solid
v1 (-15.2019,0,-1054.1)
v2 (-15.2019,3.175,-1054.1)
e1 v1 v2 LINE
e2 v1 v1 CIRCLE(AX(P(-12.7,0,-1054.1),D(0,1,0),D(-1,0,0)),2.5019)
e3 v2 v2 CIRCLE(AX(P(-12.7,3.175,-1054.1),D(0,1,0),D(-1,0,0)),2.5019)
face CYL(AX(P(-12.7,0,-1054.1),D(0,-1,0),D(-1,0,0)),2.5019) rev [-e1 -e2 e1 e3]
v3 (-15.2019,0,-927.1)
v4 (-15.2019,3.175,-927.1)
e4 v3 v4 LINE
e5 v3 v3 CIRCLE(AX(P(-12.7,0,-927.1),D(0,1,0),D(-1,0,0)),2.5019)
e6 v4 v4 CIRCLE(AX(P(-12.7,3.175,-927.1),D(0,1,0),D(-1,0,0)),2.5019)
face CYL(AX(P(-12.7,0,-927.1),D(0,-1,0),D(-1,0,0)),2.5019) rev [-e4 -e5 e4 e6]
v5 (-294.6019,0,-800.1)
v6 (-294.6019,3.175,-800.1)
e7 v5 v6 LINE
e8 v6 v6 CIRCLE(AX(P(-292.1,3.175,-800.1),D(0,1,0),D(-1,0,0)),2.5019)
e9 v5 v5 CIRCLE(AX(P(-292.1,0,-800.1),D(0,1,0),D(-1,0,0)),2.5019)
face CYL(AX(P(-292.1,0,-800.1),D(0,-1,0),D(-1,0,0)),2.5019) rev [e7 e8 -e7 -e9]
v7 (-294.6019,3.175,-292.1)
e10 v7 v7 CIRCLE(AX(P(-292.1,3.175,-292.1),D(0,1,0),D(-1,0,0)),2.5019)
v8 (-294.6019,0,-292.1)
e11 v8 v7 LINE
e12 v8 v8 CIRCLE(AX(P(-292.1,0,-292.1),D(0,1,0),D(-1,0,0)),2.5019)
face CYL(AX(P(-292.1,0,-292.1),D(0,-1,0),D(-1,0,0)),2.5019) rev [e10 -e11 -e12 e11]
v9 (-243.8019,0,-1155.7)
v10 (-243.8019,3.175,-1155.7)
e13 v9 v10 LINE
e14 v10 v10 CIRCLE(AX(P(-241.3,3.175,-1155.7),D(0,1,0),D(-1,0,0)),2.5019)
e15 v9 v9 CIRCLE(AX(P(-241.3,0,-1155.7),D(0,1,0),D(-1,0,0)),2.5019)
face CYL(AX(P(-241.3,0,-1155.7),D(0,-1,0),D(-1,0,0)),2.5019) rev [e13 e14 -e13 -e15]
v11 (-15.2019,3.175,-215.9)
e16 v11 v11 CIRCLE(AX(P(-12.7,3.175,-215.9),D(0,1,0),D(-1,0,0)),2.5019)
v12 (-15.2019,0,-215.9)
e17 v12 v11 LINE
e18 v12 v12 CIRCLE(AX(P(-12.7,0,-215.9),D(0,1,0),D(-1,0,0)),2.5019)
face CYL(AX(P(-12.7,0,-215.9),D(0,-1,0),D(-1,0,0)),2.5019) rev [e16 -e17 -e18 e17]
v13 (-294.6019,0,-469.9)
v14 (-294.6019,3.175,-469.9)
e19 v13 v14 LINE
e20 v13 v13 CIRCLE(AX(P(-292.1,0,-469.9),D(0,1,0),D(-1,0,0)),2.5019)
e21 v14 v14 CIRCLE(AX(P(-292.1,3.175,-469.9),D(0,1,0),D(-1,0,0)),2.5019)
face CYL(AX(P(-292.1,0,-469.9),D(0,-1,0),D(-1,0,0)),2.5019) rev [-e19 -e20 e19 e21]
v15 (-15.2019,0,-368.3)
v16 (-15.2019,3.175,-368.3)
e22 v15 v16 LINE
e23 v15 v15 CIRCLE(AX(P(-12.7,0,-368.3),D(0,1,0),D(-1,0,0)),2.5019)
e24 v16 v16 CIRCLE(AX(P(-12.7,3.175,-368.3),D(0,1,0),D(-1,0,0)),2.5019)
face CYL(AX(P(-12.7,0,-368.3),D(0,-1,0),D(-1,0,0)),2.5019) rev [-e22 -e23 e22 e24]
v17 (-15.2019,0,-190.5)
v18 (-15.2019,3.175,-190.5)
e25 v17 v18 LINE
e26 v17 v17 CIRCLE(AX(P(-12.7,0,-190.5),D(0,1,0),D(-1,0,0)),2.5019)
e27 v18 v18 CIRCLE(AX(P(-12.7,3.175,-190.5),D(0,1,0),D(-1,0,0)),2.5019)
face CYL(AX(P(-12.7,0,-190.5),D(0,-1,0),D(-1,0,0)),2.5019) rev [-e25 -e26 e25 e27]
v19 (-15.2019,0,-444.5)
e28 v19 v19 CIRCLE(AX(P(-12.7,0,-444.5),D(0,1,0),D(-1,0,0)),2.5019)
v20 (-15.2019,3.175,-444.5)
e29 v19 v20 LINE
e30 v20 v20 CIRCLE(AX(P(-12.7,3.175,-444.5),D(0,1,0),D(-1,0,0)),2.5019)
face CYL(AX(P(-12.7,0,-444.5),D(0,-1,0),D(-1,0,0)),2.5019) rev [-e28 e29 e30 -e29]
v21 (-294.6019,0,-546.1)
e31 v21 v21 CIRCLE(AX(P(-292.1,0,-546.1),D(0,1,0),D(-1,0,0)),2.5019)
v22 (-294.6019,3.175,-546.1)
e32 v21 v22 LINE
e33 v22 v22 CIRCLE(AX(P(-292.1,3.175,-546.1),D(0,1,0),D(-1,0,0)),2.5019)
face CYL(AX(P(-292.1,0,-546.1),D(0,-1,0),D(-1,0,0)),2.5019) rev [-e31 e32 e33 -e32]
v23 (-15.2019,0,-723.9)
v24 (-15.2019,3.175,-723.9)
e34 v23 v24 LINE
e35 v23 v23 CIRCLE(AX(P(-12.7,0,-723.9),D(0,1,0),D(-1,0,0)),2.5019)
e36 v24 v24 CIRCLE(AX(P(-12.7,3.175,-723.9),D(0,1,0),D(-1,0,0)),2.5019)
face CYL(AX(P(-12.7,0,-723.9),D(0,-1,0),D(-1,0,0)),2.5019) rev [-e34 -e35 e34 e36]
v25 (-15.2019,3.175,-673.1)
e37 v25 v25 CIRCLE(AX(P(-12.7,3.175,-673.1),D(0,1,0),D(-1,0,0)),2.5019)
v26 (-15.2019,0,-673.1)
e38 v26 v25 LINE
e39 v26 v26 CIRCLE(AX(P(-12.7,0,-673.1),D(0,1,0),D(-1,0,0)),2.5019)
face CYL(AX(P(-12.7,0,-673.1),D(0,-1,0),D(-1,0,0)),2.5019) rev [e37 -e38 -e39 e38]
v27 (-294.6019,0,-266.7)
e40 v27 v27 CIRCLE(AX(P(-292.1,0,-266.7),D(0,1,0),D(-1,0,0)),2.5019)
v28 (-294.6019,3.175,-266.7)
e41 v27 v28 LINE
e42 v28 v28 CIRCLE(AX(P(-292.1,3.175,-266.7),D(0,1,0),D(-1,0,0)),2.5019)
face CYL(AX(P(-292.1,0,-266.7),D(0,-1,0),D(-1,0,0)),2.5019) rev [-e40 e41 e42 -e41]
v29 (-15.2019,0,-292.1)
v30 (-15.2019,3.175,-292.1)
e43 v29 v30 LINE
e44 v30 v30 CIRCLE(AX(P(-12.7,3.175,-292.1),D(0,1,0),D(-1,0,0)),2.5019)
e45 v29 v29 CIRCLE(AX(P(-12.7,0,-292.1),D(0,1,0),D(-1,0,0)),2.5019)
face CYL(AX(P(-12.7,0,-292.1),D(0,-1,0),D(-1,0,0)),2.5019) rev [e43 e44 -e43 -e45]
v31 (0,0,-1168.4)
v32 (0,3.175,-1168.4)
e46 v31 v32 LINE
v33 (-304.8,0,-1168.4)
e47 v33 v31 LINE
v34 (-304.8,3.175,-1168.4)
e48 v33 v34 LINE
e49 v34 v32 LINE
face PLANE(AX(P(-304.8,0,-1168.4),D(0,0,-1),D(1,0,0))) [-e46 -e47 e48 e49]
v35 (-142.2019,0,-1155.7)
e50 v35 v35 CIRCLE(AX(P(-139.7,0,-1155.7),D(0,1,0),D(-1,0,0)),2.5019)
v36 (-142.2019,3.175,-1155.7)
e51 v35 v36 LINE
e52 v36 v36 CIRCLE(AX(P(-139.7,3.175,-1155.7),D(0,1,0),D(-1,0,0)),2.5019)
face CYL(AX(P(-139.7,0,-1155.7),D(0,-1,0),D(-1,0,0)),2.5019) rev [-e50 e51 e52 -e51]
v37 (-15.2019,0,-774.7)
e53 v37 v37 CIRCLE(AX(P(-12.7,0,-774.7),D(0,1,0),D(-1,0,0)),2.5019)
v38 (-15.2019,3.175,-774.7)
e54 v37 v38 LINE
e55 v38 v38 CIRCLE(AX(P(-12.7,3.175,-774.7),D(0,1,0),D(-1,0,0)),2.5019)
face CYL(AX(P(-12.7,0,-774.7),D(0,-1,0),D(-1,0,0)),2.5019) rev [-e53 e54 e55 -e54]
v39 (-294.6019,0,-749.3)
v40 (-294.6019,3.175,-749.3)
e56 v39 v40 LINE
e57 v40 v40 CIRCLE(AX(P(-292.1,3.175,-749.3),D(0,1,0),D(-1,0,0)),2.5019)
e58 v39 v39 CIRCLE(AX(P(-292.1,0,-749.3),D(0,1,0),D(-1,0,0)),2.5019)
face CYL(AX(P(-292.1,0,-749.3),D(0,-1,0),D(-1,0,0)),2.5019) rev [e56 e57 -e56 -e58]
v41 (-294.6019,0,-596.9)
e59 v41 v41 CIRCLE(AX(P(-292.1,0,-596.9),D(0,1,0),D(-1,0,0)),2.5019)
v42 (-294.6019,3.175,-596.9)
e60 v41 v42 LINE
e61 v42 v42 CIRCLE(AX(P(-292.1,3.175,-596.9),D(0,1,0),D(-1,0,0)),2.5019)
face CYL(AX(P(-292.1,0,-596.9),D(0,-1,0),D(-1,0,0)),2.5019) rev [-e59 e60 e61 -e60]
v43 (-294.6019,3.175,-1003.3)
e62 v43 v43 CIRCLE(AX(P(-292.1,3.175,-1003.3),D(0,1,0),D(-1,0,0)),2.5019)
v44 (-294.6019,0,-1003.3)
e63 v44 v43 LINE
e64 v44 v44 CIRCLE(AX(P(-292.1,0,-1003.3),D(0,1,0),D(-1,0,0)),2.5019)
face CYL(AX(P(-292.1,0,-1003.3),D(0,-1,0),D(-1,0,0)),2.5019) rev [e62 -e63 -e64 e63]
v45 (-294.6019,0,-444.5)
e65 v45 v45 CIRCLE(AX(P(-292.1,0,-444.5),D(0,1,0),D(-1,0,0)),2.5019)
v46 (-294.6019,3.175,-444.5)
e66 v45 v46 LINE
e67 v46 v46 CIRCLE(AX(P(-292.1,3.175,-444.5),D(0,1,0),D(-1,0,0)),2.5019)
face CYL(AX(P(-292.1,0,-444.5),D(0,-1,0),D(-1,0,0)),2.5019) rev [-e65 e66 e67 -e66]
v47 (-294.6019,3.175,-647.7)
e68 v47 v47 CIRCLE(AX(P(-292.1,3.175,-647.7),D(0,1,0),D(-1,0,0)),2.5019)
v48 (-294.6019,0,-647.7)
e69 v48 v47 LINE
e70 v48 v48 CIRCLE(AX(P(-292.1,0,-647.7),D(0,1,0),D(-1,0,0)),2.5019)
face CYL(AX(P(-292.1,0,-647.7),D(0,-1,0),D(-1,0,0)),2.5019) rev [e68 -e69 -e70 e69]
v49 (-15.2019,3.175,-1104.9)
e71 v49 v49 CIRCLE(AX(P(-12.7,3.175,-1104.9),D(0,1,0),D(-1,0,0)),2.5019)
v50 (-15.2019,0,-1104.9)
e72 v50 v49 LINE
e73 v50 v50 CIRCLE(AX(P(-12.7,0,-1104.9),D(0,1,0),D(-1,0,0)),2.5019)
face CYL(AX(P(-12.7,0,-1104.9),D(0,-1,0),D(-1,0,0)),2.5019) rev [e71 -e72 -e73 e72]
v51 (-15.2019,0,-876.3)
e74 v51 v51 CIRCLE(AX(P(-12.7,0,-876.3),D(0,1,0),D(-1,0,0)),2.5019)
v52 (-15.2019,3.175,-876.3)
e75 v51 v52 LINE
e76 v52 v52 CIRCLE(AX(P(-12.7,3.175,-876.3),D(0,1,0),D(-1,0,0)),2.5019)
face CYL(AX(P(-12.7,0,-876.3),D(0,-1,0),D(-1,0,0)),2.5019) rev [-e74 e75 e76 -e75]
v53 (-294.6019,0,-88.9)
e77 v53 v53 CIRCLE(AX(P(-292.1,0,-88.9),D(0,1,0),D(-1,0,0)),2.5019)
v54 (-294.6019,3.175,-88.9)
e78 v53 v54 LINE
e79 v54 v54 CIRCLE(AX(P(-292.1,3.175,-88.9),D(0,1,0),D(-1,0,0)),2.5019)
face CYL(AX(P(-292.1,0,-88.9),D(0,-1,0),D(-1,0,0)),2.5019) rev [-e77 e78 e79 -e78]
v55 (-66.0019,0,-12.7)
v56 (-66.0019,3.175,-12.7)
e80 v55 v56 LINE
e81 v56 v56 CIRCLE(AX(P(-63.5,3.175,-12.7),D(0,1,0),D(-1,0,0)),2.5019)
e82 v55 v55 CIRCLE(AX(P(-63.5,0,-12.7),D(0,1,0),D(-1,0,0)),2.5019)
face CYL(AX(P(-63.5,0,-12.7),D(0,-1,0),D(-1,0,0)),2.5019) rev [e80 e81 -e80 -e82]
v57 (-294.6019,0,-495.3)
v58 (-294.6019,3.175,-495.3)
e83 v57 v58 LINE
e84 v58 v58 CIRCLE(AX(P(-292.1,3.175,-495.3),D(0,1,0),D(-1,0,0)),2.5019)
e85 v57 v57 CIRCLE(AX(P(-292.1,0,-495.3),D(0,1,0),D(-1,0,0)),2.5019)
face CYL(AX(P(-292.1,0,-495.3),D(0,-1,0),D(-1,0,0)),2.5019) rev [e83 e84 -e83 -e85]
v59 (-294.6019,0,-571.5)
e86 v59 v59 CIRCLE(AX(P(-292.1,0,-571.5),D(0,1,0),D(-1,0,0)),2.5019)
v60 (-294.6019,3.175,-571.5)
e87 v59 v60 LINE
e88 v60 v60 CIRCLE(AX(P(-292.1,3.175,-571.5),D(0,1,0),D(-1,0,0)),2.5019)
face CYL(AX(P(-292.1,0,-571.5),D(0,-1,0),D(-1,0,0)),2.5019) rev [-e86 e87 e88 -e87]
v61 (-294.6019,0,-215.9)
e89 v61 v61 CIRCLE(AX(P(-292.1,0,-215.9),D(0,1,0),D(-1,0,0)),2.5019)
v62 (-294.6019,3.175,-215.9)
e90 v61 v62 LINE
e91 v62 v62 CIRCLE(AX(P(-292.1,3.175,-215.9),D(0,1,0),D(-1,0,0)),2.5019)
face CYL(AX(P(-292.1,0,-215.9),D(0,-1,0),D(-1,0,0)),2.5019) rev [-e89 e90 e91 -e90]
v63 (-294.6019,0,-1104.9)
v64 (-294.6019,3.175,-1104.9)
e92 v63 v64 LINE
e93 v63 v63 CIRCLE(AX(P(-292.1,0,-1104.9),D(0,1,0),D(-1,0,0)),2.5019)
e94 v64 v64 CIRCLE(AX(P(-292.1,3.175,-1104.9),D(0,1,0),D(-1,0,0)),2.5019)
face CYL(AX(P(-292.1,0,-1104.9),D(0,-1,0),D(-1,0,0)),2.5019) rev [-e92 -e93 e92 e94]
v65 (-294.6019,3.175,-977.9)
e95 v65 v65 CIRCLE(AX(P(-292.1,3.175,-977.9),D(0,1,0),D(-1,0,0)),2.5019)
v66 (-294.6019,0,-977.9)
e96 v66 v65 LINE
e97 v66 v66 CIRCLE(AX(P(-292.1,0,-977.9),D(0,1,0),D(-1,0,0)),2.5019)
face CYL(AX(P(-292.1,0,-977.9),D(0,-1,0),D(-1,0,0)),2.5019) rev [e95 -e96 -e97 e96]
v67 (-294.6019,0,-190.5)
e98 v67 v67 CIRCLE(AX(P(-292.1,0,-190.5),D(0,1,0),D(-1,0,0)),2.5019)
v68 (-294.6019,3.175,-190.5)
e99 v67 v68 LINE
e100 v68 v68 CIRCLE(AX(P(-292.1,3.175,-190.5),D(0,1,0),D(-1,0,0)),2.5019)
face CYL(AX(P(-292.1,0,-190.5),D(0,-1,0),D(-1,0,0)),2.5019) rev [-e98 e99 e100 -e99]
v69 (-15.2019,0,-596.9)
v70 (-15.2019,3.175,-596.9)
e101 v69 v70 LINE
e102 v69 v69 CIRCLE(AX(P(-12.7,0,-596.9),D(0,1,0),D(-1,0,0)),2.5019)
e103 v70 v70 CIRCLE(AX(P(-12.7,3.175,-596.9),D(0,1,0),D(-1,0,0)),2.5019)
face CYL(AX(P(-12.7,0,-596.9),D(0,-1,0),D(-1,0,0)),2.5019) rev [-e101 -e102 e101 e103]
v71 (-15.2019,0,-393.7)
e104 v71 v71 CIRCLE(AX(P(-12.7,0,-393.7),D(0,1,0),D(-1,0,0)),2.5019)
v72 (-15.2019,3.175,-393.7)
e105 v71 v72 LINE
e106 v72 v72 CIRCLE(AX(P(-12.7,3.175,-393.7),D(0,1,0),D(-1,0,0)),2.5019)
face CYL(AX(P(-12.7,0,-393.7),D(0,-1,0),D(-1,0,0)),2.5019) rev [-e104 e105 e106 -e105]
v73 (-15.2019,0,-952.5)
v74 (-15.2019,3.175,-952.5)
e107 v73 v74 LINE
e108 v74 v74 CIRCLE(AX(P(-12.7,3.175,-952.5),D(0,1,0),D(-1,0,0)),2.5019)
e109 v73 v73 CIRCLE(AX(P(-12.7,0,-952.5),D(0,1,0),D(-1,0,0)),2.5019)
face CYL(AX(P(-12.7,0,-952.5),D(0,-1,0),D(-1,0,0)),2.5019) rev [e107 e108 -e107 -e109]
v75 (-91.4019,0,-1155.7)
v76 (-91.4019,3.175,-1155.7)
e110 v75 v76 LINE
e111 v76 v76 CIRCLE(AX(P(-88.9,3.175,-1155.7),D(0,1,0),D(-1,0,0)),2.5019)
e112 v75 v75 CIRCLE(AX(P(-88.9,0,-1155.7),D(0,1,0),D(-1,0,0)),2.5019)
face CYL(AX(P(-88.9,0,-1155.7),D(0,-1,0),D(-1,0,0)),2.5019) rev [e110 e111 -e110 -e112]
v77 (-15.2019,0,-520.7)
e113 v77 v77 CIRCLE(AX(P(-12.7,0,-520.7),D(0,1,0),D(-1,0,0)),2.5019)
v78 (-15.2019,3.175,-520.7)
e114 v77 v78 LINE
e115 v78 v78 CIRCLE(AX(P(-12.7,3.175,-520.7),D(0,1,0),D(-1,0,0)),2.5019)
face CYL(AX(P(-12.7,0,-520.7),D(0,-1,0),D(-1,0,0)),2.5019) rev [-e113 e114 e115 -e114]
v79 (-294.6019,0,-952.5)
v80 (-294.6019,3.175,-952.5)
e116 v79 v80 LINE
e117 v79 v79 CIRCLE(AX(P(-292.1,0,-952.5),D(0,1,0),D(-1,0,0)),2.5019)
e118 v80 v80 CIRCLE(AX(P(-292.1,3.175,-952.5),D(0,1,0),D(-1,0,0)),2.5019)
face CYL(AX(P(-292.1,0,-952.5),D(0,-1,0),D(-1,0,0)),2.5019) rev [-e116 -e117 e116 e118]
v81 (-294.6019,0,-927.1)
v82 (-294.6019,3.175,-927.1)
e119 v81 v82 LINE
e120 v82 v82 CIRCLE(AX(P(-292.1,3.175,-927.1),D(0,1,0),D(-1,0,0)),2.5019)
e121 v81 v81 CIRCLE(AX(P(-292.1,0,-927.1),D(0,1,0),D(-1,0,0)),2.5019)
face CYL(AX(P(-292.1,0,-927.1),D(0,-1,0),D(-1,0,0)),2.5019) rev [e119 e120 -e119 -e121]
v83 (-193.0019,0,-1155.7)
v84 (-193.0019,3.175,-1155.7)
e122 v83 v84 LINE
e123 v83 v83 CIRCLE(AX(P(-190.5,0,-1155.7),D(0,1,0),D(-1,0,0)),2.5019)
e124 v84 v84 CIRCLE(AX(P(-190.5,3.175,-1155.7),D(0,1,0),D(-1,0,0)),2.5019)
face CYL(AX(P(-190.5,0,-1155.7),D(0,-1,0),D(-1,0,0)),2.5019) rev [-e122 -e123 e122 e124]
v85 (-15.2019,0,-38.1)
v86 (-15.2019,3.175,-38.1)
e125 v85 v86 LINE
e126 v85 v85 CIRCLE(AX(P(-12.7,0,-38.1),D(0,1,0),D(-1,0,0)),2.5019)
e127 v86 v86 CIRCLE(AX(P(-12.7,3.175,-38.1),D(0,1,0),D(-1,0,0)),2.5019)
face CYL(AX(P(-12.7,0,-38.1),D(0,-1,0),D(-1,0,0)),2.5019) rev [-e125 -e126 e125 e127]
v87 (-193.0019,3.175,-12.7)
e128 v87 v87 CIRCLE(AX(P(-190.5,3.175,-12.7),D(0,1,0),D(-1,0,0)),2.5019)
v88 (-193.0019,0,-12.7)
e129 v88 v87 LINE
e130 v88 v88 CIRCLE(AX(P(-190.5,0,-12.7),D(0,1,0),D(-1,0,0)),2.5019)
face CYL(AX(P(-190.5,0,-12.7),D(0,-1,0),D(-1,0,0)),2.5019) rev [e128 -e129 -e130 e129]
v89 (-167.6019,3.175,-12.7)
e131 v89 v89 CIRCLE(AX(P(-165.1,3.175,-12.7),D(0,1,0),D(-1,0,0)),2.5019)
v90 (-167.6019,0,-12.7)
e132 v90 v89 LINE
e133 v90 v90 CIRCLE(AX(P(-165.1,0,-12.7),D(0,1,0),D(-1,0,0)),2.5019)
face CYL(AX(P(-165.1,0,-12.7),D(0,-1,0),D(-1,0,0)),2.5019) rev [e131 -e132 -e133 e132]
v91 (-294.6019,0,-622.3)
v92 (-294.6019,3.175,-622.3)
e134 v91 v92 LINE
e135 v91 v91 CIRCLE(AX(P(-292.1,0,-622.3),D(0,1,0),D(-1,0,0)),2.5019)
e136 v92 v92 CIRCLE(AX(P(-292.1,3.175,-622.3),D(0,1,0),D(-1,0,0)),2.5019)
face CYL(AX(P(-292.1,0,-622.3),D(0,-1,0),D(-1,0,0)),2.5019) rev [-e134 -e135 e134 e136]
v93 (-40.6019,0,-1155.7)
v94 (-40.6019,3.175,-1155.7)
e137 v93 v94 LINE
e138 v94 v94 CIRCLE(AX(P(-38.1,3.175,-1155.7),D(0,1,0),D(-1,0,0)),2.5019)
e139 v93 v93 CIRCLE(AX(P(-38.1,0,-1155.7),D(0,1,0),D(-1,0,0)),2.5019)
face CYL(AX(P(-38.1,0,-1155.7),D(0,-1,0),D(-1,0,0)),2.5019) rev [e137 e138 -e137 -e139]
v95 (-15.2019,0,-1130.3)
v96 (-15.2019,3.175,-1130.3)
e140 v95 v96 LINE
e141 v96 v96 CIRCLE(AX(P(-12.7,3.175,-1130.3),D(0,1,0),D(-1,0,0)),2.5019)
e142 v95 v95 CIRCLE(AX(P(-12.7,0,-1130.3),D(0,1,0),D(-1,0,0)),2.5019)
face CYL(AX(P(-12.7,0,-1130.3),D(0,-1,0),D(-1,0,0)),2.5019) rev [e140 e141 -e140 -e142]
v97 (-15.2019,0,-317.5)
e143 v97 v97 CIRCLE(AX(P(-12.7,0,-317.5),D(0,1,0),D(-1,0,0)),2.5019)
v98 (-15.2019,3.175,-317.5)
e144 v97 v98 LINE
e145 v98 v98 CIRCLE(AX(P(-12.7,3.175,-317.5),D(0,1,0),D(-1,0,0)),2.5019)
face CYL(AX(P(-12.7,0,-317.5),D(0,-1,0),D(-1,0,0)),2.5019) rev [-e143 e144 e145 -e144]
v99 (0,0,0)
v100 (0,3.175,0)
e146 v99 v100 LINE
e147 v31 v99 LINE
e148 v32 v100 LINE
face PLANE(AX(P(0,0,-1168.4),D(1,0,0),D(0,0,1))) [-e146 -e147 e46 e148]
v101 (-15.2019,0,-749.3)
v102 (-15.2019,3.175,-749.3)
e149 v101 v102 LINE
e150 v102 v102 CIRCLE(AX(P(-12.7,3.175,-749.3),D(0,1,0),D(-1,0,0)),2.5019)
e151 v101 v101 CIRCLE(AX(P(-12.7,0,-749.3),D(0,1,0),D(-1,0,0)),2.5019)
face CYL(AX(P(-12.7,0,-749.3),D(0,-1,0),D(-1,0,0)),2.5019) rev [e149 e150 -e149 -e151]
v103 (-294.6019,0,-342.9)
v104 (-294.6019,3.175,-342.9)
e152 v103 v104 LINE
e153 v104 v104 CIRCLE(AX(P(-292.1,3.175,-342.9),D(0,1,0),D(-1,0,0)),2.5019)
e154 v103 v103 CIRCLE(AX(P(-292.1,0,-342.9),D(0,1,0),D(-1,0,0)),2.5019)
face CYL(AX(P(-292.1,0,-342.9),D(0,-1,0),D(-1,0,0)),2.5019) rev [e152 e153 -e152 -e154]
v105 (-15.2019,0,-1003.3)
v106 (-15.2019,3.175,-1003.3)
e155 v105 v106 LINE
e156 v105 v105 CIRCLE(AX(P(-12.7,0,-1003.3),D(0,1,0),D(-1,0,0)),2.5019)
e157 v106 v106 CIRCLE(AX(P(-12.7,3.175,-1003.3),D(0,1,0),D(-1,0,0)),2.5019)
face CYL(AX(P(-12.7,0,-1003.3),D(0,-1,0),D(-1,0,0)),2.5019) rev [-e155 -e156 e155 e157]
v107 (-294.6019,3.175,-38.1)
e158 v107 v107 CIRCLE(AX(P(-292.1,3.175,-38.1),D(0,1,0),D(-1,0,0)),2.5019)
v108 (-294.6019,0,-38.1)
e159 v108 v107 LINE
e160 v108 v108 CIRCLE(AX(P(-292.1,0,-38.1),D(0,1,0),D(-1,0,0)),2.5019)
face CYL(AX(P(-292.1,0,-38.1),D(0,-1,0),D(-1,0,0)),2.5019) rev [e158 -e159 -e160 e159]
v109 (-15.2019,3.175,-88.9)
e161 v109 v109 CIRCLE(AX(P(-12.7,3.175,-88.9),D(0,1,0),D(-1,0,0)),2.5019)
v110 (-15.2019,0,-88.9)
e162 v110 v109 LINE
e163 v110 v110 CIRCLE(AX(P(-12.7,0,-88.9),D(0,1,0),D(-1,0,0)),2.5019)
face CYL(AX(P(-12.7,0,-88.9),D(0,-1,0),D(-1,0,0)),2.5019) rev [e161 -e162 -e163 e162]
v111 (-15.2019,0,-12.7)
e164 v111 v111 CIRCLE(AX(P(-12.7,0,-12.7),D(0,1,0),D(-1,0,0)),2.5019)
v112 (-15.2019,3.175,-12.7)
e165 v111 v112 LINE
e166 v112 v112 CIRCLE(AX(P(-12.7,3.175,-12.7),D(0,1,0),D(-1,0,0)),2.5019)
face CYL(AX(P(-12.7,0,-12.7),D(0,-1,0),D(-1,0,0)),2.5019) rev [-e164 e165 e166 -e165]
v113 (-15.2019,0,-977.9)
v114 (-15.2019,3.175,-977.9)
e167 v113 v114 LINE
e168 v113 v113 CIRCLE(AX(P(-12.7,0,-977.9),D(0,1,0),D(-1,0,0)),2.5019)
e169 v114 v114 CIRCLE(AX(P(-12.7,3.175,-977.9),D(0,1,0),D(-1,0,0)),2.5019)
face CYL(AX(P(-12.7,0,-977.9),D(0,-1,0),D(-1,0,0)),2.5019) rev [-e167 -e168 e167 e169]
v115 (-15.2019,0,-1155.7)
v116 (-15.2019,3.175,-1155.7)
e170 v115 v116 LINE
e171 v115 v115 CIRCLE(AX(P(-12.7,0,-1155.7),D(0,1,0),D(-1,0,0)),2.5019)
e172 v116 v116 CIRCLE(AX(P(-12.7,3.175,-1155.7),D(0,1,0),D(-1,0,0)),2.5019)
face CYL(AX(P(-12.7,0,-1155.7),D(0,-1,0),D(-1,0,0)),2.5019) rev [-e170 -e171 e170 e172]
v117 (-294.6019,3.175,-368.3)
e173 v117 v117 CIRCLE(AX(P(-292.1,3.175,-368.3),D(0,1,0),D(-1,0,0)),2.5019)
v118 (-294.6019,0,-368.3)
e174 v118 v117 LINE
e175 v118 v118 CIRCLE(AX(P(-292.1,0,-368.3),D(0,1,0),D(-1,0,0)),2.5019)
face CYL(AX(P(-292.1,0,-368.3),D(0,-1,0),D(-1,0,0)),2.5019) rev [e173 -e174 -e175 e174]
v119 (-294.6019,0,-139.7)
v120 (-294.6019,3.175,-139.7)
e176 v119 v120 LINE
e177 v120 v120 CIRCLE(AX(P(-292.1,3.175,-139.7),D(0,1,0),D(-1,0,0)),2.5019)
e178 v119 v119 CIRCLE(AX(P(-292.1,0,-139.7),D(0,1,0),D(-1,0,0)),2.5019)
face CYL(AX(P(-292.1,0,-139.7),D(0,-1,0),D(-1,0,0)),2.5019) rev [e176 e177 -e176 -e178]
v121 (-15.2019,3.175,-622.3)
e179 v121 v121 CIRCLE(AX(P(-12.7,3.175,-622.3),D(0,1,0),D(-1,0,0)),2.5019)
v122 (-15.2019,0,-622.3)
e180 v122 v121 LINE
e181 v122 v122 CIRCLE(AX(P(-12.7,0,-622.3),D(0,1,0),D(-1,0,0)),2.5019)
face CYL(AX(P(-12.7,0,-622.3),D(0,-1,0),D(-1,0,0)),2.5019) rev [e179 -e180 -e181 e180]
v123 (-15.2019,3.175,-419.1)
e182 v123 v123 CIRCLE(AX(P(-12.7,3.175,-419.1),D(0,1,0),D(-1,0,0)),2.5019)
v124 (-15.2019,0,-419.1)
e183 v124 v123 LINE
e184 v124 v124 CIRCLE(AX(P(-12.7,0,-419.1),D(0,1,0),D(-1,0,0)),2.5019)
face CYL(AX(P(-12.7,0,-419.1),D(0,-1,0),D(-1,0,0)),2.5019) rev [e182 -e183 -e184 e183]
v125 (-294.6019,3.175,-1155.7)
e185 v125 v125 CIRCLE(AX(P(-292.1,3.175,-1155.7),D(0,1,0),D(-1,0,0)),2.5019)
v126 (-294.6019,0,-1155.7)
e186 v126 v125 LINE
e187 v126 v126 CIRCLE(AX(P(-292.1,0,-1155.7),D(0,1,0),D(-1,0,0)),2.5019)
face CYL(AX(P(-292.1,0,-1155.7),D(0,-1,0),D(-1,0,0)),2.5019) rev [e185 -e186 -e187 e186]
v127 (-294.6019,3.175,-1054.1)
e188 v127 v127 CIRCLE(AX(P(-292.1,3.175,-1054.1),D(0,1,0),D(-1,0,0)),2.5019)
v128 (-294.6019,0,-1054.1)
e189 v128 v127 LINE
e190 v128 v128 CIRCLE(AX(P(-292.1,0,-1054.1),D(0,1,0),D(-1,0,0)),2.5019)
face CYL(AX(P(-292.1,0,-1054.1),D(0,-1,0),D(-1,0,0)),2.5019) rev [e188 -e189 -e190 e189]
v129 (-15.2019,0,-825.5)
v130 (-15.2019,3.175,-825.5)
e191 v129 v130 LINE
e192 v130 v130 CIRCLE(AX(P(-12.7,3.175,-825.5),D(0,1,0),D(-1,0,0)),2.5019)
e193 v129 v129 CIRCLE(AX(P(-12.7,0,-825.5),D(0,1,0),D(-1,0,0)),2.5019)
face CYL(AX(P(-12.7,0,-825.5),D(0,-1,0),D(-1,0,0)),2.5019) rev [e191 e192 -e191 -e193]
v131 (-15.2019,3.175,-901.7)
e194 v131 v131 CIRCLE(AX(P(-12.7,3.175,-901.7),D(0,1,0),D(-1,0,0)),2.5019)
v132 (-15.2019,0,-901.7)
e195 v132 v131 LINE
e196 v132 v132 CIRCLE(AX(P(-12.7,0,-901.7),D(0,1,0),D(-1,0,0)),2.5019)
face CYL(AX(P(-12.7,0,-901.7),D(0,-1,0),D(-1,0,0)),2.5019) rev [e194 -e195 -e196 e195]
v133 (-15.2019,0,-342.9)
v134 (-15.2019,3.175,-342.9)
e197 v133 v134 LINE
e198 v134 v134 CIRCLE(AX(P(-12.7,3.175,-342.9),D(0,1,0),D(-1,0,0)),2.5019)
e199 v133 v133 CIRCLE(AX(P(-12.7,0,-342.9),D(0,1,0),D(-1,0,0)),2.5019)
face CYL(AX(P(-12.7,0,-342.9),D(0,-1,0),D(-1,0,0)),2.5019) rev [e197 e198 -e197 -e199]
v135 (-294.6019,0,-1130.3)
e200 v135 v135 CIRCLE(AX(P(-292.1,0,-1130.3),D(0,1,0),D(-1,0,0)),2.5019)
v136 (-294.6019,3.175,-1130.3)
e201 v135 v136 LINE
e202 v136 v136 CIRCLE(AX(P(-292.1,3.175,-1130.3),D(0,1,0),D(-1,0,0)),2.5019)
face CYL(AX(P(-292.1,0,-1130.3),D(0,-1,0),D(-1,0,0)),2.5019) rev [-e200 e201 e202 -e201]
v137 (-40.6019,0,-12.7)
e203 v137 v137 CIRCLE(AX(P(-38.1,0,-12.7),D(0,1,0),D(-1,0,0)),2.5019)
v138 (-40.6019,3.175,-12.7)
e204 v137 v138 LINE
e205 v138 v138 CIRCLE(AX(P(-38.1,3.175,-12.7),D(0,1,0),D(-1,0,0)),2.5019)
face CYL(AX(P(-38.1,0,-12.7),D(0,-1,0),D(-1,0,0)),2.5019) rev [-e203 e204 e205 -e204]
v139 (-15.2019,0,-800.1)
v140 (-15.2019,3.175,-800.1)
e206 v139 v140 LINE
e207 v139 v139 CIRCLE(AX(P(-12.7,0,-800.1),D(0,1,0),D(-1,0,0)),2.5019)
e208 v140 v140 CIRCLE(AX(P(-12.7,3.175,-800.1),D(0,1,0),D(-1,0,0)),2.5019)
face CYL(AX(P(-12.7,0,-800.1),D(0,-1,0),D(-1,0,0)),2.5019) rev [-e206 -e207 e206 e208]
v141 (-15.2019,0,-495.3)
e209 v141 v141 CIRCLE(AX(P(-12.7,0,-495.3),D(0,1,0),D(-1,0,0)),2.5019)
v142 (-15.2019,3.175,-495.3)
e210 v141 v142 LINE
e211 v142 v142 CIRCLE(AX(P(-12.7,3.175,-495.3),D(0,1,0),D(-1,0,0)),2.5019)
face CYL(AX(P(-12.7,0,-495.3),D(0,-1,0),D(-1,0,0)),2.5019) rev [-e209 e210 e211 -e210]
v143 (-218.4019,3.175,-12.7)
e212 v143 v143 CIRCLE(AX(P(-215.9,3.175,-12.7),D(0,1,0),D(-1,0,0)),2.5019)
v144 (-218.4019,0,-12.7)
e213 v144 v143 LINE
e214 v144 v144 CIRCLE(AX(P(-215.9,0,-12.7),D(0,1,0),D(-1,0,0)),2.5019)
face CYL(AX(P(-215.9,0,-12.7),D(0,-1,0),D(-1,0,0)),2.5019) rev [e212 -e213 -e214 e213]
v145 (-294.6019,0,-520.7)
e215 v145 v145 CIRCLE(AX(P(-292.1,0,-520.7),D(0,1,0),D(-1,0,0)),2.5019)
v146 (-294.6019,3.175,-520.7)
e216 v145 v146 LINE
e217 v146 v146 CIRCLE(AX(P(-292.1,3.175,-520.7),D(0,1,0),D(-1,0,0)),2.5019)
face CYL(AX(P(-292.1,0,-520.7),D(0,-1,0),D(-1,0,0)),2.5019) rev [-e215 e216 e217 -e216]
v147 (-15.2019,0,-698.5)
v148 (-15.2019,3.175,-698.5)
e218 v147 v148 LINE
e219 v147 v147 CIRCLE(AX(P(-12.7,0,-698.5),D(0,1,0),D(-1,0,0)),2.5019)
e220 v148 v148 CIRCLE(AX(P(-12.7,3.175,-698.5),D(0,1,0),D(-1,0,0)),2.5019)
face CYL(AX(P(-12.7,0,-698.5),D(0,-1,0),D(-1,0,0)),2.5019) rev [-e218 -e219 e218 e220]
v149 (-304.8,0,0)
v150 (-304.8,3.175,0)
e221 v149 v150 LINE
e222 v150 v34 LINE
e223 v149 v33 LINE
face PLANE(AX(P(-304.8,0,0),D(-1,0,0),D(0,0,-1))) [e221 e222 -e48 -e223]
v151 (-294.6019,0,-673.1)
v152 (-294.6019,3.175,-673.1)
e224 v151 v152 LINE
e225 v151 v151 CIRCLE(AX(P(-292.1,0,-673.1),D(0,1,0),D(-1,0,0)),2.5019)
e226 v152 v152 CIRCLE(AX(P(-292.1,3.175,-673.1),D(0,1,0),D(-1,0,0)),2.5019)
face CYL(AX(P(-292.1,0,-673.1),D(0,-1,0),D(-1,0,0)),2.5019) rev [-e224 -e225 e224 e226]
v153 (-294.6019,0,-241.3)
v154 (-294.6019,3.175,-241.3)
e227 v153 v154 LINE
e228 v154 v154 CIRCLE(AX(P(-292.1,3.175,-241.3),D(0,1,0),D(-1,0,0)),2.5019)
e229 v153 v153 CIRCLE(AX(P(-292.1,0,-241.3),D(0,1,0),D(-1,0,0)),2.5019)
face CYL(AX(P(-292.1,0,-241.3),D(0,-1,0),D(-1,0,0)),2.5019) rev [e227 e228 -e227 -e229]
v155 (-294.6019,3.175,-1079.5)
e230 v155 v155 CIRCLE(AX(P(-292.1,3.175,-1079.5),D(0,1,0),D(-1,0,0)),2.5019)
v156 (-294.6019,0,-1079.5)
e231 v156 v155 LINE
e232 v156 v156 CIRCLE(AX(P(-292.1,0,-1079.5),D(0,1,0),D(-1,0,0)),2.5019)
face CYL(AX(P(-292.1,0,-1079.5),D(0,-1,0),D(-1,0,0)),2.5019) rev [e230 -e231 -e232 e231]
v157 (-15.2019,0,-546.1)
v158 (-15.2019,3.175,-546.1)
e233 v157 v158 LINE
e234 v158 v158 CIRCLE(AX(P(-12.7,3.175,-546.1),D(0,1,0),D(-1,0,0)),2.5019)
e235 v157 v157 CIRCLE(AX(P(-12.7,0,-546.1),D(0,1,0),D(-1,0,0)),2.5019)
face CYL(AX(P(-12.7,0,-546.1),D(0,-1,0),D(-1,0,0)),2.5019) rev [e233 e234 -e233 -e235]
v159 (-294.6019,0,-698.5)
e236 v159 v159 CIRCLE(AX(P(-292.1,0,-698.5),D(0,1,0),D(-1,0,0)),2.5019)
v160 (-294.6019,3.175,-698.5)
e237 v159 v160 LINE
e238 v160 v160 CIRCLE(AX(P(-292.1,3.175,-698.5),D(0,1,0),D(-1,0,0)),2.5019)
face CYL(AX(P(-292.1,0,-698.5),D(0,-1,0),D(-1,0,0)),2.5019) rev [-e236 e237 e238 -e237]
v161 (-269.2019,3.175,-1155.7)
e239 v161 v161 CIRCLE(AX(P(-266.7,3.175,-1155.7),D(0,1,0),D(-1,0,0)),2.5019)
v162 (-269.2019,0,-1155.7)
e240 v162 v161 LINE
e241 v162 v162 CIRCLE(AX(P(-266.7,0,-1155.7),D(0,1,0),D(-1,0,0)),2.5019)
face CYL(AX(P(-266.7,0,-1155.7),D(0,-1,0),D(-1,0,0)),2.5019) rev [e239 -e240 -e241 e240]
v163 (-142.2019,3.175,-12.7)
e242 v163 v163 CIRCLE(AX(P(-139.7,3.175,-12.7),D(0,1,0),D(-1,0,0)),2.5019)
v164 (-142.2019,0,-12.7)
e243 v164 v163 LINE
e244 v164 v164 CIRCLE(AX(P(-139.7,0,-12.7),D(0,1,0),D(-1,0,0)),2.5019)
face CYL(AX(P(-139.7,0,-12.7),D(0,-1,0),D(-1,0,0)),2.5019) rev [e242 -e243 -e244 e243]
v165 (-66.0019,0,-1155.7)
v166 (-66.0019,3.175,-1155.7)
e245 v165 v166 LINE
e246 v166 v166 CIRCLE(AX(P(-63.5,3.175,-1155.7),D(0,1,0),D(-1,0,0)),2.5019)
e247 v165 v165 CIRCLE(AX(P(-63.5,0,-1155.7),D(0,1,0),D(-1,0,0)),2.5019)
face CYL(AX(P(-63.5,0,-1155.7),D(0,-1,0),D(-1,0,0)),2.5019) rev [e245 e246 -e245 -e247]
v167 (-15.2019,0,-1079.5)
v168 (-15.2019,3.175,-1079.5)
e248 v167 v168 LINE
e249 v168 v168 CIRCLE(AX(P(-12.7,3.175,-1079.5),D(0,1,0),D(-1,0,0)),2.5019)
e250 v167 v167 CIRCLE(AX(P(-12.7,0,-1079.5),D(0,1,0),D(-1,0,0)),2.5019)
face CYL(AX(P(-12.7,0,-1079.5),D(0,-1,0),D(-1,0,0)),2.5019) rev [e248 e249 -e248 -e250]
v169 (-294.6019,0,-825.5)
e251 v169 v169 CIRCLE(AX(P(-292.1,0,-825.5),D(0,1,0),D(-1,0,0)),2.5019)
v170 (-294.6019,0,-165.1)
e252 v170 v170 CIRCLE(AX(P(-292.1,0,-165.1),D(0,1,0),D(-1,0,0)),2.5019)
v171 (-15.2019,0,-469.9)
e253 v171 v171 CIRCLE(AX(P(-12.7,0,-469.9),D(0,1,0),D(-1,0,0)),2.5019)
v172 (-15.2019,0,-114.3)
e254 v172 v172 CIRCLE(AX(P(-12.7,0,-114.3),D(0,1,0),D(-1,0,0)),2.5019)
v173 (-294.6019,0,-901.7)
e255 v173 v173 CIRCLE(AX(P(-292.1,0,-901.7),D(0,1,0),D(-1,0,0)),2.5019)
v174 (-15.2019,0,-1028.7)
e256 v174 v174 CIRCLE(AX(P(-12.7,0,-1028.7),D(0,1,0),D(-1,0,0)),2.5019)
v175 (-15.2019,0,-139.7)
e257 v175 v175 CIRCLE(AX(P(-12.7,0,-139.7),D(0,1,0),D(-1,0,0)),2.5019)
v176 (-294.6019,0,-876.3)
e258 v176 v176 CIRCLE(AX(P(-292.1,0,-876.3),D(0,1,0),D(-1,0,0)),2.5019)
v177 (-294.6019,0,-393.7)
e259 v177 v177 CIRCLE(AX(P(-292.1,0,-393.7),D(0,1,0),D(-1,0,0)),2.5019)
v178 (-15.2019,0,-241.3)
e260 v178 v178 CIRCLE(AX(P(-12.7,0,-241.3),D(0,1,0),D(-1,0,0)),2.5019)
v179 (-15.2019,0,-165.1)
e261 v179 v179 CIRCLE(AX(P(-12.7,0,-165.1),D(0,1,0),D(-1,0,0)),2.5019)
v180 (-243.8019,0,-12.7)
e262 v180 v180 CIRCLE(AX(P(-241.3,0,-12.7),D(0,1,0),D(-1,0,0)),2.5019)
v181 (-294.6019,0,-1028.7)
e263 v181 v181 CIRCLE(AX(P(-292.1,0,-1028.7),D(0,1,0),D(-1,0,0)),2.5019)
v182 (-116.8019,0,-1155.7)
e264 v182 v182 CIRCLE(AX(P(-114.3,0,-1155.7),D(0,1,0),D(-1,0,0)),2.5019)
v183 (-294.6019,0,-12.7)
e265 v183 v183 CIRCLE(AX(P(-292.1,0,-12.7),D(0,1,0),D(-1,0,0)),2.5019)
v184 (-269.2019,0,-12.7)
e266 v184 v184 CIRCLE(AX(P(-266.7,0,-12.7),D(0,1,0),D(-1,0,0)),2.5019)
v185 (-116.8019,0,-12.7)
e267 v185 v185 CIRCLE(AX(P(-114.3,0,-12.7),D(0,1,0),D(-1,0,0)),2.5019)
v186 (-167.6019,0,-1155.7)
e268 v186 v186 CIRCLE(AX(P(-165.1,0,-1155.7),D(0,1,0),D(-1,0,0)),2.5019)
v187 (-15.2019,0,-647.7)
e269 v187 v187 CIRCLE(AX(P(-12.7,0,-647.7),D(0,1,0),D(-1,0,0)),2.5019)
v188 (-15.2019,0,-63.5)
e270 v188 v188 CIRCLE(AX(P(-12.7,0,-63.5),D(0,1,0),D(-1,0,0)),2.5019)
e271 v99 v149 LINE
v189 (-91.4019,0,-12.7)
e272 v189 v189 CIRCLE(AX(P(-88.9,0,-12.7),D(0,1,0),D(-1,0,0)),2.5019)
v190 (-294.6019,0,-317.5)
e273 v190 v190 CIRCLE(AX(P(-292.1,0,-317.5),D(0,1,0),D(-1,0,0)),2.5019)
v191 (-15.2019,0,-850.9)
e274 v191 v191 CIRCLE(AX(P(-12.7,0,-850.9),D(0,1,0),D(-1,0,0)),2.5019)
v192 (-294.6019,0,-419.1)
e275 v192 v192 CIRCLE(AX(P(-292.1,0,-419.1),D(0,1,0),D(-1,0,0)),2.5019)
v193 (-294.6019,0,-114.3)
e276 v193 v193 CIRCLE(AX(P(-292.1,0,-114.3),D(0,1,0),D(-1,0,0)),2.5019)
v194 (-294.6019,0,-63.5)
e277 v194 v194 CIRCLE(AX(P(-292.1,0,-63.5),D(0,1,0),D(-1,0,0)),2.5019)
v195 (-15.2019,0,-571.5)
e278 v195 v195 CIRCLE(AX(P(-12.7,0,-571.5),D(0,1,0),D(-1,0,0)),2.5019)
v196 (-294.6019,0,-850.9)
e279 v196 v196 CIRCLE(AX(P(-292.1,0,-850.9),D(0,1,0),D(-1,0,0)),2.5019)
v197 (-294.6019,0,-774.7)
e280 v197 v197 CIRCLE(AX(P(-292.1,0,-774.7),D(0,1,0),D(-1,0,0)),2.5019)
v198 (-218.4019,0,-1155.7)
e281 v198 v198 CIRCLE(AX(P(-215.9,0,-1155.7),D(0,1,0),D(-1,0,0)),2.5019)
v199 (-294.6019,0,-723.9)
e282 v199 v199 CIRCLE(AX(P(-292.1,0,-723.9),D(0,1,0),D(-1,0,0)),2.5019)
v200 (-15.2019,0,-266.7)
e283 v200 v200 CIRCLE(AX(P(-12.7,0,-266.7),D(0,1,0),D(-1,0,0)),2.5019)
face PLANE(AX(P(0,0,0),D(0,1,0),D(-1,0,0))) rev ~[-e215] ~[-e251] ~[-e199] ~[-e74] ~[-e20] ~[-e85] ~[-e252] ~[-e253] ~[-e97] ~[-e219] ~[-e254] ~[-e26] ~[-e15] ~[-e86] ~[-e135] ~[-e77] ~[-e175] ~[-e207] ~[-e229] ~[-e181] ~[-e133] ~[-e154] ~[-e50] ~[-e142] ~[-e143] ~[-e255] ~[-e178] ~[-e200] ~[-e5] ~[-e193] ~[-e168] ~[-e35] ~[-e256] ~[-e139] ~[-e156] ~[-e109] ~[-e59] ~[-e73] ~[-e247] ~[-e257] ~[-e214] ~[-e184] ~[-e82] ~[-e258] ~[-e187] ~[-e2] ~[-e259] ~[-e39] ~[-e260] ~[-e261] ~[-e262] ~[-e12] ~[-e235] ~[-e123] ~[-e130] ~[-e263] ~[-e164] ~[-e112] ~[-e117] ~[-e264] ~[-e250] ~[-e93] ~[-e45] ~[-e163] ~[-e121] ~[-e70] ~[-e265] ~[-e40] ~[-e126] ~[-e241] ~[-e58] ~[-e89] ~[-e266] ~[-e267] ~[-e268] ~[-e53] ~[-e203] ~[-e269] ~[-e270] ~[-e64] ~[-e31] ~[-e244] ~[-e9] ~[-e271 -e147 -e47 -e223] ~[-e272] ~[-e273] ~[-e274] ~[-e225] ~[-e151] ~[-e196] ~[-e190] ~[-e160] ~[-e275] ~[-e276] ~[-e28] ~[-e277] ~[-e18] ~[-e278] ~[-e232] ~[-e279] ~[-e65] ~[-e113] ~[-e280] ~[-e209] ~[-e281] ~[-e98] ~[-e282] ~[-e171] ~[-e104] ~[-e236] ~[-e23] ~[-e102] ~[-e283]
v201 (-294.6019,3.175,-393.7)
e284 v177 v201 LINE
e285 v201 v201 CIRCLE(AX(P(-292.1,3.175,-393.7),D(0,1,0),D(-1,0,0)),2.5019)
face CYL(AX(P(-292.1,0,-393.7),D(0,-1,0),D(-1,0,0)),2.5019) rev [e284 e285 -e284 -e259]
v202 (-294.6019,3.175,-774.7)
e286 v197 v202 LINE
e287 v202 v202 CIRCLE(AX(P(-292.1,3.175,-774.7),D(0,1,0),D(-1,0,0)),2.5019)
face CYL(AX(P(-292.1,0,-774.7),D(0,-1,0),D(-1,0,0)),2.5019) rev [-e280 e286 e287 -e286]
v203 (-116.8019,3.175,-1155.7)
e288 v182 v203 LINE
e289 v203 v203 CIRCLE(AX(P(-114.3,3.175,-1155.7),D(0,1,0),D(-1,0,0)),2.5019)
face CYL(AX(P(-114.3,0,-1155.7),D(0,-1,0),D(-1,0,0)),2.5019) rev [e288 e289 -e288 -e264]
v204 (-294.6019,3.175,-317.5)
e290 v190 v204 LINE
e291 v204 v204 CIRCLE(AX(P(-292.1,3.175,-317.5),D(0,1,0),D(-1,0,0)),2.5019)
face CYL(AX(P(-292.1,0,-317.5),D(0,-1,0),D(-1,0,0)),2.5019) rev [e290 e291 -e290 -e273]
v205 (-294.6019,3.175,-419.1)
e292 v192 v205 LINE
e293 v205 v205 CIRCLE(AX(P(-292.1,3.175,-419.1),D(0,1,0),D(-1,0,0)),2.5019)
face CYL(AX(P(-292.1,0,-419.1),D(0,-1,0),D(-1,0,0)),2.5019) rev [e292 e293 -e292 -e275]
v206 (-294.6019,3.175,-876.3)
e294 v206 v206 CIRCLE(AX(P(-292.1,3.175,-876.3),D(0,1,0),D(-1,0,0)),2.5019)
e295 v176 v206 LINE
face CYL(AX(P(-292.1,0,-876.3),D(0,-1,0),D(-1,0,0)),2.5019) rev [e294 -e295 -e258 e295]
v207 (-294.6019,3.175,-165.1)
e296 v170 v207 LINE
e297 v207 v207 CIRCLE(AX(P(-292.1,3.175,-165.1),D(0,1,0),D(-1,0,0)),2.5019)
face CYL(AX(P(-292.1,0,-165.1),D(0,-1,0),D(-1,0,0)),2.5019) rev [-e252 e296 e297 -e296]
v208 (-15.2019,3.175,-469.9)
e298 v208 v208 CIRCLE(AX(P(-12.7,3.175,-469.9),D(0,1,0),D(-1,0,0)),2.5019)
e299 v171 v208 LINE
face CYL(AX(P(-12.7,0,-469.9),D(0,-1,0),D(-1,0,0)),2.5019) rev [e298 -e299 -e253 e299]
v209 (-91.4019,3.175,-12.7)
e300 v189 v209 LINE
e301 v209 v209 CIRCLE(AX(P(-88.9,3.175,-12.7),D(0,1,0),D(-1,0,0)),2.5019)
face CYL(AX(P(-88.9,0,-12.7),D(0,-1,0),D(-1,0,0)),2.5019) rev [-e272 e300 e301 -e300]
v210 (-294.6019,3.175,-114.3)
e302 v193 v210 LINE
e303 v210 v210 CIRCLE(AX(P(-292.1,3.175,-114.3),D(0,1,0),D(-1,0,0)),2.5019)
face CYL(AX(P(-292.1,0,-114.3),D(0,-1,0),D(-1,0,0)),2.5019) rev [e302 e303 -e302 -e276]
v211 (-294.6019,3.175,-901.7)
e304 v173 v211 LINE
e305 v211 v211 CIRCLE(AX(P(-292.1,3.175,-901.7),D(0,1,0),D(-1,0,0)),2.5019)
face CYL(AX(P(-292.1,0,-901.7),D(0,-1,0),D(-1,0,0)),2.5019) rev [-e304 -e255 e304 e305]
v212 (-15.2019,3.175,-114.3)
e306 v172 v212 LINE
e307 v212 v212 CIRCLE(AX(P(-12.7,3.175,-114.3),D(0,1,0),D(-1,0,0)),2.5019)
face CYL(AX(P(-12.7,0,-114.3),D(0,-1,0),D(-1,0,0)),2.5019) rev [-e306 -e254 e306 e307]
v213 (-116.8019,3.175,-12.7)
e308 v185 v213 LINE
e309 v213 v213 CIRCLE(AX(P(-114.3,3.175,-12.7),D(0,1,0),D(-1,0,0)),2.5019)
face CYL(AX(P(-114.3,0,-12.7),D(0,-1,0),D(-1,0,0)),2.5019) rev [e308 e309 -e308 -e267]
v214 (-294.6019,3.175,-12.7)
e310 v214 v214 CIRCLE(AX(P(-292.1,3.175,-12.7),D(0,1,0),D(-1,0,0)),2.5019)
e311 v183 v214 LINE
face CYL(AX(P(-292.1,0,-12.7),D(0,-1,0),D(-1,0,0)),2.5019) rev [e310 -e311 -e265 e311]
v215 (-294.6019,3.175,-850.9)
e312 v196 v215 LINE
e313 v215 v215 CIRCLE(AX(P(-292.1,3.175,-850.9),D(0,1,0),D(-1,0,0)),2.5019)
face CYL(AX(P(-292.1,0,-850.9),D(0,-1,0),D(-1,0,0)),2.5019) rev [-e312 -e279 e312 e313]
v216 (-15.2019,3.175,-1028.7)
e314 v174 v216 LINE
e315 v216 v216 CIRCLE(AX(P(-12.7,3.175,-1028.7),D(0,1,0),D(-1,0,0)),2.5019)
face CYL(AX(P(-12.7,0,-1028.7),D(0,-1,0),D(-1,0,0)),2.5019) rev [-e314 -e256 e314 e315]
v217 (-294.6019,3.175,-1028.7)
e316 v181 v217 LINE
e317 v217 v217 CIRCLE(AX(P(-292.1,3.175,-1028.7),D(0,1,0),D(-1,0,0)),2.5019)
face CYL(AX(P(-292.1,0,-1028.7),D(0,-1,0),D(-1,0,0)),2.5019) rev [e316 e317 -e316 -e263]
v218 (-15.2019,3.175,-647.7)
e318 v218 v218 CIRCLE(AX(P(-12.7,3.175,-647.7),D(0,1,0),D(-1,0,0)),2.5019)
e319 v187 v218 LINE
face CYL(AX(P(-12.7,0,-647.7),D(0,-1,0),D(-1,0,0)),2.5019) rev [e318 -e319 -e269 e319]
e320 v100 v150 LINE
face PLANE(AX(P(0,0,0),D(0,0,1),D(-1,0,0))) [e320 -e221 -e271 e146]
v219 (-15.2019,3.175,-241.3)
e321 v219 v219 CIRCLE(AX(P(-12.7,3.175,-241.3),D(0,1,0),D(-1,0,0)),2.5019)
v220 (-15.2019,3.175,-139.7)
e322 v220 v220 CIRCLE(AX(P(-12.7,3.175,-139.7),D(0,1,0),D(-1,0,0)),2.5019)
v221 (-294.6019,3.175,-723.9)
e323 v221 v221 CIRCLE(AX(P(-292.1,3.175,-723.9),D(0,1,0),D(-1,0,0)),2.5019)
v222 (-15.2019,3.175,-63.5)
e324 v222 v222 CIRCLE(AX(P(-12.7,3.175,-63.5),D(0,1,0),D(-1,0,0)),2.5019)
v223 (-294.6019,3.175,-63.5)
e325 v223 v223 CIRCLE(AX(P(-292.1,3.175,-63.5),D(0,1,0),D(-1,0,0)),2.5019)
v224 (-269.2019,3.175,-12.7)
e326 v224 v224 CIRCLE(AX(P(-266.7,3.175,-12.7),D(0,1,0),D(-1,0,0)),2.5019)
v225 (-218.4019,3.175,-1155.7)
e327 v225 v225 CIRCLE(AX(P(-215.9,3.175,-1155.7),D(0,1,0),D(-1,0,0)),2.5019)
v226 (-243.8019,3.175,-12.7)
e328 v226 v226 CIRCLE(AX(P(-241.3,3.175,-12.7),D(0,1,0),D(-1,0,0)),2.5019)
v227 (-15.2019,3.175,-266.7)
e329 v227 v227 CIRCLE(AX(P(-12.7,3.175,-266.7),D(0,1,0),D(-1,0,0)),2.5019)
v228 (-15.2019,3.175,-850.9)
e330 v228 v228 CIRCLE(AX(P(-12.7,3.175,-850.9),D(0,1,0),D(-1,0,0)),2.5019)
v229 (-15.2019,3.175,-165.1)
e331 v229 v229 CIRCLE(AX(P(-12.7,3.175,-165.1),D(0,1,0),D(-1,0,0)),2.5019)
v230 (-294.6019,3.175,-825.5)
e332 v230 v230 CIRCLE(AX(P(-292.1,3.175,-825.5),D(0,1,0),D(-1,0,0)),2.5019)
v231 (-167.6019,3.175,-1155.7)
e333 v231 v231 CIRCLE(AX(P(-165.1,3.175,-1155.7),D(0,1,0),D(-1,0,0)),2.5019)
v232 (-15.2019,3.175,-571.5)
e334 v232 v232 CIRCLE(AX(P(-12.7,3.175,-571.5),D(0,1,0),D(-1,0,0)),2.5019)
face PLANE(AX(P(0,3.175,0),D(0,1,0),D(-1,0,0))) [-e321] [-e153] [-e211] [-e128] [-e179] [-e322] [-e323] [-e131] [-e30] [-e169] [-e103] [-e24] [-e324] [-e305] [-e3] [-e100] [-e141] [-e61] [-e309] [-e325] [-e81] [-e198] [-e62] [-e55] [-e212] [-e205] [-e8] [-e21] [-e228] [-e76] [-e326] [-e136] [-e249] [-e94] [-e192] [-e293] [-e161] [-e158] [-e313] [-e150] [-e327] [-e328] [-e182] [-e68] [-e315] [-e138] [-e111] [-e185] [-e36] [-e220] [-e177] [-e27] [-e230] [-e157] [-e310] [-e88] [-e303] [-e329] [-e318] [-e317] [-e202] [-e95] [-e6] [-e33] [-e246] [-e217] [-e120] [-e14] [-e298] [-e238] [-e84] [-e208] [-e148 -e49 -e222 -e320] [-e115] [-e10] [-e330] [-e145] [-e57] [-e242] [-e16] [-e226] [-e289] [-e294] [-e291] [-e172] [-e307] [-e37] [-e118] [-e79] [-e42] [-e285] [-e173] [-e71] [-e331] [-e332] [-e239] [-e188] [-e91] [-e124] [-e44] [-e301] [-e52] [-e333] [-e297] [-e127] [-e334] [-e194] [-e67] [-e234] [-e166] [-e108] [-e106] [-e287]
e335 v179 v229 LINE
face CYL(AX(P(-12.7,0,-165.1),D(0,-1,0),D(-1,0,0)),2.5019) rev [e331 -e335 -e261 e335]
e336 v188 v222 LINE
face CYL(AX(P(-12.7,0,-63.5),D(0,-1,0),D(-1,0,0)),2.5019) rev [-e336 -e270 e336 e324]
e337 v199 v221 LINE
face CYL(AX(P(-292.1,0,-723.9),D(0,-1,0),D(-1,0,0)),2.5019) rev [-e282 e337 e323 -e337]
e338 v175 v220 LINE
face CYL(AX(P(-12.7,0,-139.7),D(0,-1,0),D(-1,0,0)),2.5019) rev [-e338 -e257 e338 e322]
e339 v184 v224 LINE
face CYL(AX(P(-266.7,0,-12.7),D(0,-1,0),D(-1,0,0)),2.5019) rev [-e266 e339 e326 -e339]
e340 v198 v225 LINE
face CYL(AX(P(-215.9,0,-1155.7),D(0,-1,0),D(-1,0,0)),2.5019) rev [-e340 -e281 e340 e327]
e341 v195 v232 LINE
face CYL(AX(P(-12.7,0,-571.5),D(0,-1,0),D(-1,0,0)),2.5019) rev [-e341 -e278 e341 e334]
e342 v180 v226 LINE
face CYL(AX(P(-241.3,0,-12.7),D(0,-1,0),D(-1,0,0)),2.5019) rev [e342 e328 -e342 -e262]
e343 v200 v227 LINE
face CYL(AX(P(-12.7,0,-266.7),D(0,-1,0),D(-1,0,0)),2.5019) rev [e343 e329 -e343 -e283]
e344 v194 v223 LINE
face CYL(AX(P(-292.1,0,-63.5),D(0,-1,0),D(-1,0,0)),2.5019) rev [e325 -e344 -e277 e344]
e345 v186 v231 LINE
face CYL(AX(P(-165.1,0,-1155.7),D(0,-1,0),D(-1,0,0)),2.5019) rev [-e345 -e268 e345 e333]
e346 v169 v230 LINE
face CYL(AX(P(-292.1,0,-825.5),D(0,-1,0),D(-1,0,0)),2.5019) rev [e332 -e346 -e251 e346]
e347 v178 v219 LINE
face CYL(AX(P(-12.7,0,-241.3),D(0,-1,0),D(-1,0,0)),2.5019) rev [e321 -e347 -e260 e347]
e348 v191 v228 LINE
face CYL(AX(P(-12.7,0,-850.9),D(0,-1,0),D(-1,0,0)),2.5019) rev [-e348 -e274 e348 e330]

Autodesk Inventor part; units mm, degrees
ref_plane "YZ Plane" through (0, 0, 0) normal (1, 0, 0) x (0, 1, 0)
ref_plane "XZ Plane" through (0, 0, 0) normal (0, 1, 0) x (-1, 0, 0)
ref_plane "XY Plane" through (0, 0, 0) normal (0, 0, 1) x (1, 0, 0)
sketch "Sketch1" plane through (0, 0, 0) normal (0, 1, 0) x (-1, 0, 0)
  line L0 (0, 0) -> (304.8, 0)
  line L1 (304.8, 0) -> (304.8, -1168.4)
  line L2 (304.8, -1168.4) -> (0, -1168.4)
  line L3 (0, -1168.4) -> (0, 0)
  circle A0 centre (292.1, -12.7) radius 2.5019
  circle A1 centre (12.7, -12.7) radius 2.5019
  circle A2 centre (38.1, -12.7) radius 2.5019
  circle A3 centre (63.5, -12.7) radius 2.5019
  circle A4 centre (88.9, -12.7) radius 2.5019
  circle A5 centre (114.3, -12.7) radius 2.5019
  circle A6 centre (139.7, -12.7) radius 2.5019
  circle A7 centre (165.1, -12.7) radius 2.5019
  circle A8 centre (190.5, -12.7) radius 2.5019
  circle A9 centre (215.9, -12.7) radius 2.5019
  circle A10 centre (241.3, -12.7) radius 2.5019
  circle A11 centre (266.7, -12.7) radius 2.5019
  circle A12 centre (292.1, -12.7) radius 2.5019
  circle A13 centre (12.7, -38.1) radius 2.5019
  circle A14 centre (12.7, -63.5) radius 2.5019
  circle A15 centre (12.7, -88.9) radius 2.5019
  circle A16 centre (12.7, -114.3) radius 2.5019
  circle A17 centre (12.7, -139.7) radius 2.5019
  circle A18 centre (12.7, -165.1) radius 2.5019
  circle A19 centre (12.7, -190.5) radius 2.5019
  circle A20 centre (12.7, -215.9) radius 2.5019
  circle A21 centre (12.7, -241.3) radius 2.5019
  circle A22 centre (12.7, -266.7) radius 2.5019
  circle A23 centre (12.7, -292.1) radius 2.5019
  circle A24 centre (12.7, -317.5) radius 2.5019
  circle A25 centre (12.7, -342.9) radius 2.5019
  circle A26 centre (12.7, -368.3) radius 2.5019
  circle A27 centre (12.7, -393.7) radius 2.5019
  circle A28 centre (12.7, -419.1) radius 2.5019
  circle A29 centre (12.7, -444.5) radius 2.5019
  circle A30 centre (12.7, -469.9) radius 2.5019
  circle A31 centre (12.7, -495.3) radius 2.5019
  circle A32 centre (12.7, -520.7) radius 2.5019
  circle A33 centre (12.7, -546.1) radius 2.5019
  circle A34 centre (12.7, -571.5) radius 2.5019
  circle A35 centre (12.7, -596.9) radius 2.5019
  circle A36 centre (12.7, -622.3) radius 2.5019
  circle A37 centre (12.7, -647.7) radius 2.5019
  circle A38 centre (12.7, -673.1) radius 2.5019
  circle A39 centre (12.7, -698.5) radius 2.5019
  circle A40 centre (12.7, -723.9) radius 2.5019
  circle A41 centre (12.7, -749.3) radius 2.5019
  circle A42 centre (12.7, -774.7) radius 2.5019
  circle A43 centre (12.7, -800.1) radius 2.5019
  circle A44 centre (12.7, -825.5) radius 2.5019
  circle A45 centre (12.7, -850.9) radius 2.5019
  circle A46 centre (12.7, -876.3) radius 2.5019
  circle A47 centre (12.7, -901.7) radius 2.5019
  circle A48 centre (12.7, -927.1) radius 2.5019
  circle A49 centre (12.7, -952.5) radius 2.5019
  circle A50 centre (12.7, -977.9) radius 2.5019
  circle A51 centre (12.7, -1003.3) radius 2.5019
  circle A52 centre (12.7, -1028.7) radius 2.5019
  circle A53 centre (12.7, -1054.1) radius 2.5019
  circle A54 centre (12.7, -1079.5) radius 2.5019
  circle A55 centre (12.7, -1104.9) radius 2.5019
  circle A56 centre (12.7, -1130.3) radius 2.5019
  circle A57 centre (12.7, -1155.7) radius 2.5019
  circle A58 centre (38.1, -1155.7) radius 2.5019
  circle A59 centre (63.5, -1155.7) radius 2.5019
  circle A60 centre (88.9, -1155.7) radius 2.5019
  circle A61 centre (114.3, -1155.7) radius 2.5019
  circle A62 centre (139.7, -1155.7) radius 2.5019
  circle A63 centre (165.1, -1155.7) radius 2.5019
  circle A64 centre (190.5, -1155.7) radius 2.5019
  circle A65 centre (215.9, -1155.7) radius 2.5019
  circle A66 centre (241.3, -1155.7) radius 2.5019
  circle A67 centre (266.7, -1155.7) radius 2.5019
  circle A68 centre (292.1, -1155.7) radius 2.5019
  circle A69 centre (292.1, -1130.3) radius 2.5019
  circle A70 centre (292.1, -1104.9) radius 2.5019
  circle A71 centre (292.1, -1079.5) radius 2.5019
  circle A72 centre (292.1, -1054.1) radius 2.5019
  circle A73 centre (292.1, -1028.7) radius 2.5019
  circle A74 centre (292.1, -1003.3) radius 2.5019
  circle A75 centre (292.1, -977.9) radius 2.5019
  circle A76 centre (292.1, -952.5) radius 2.5019
  circle A77 centre (292.1, -927.1) radius 2.5019
  circle A78 centre (292.1, -901.7) radius 2.5019
  circle A79 centre (292.1, -876.3) radius 2.5019
  circle A80 centre (292.1, -850.9) radius 2.5019
  circle A81 centre (292.1, -825.5) radius 2.5019
  circle A82 centre (292.1, -800.1) radius 2.5019
  circle A83 centre (292.1, -774.7) radius 2.5019
  circle A84 centre (292.1, -749.3) radius 2.5019
  circle A85 centre (292.1, -723.9) radius 2.5019
  circle A86 centre (292.1, -698.5) radius 2.5019
  circle A87 centre (292.1, -673.1) radius 2.5019
  circle A88 centre (292.1, -647.7) radius 2.5019
  circle A89 centre (292.1, -622.3) radius 2.5019
  circle A90 centre (292.1, -596.9) radius 2.5019
  circle A91 centre (292.1, -571.5) radius 2.5019
  circle A92 centre (292.1, -546.1) radius 2.5019
  circle A93 centre (292.1, -520.7) radius 2.5019
  circle A94 centre (292.1, -495.3) radius 2.5019
  circle A95 centre (292.1, -469.9) radius 2.5019
  circle A96 centre (292.1, -444.5) radius 2.5019
  circle A97 centre (292.1, -419.1) radius 2.5019
  circle A98 centre (292.1, -393.7) radius 2.5019
  circle A99 centre (292.1, -368.3) radius 2.5019
  circle A100 centre (292.1, -342.9) radius 2.5019
  circle A101 centre (292.1, -317.5) radius 2.5019
  circle A102 centre (292.1, -292.1) radius 2.5019
  circle A103 centre (292.1, -266.7) radius 2.5019
  circle A104 centre (292.1, -241.3) radius 2.5019
  circle A105 centre (292.1, -215.9) radius 2.5019
  circle A106 centre (292.1, -190.5) radius 2.5019
  circle A107 centre (292.1, -165.1) radius 2.5019
  circle A108 centre (292.1, -139.7) radius 2.5019
  circle A109 centre (292.1, -114.3) radius 2.5019
  circle A110 centre (292.1, -88.9) radius 2.5019
  circle A111 centre (292.1, -63.5) radius 2.5019
  circle A112 centre (292.1, -38.1) radius 2.5019
  dimension "d0" = 1168.4
  dimension "d1" = 304.8
  dimension "d3" = 5.0038
  dimension "d4" = 12.7
  dimension "d5" = 12.7
  dimension "d6" = 5.0038
  dimension "d7" = 12.7
  dimension "d8" = 12.7
  dimension "d11" = 25.4
  dimension "d18" = 25.4
  dimension "d25" = 25.4
  dimension "d32" = 25.4
extrude "Plate2" add sketch "Sketch1" along normal blind 3.175
equation "\"d37\" = Thickness"
equation "\"BendRadius\" = Thickness"
equation "\"BendReliefWidth\" = Thickness"
equation "\"BendReliefDepth\" = 0.5 * Thickness"
equation "\"CornerReliefSize\" = 4 * Thickness"
equation "\"MinimumRemnant\" = 2 * Thickness"
equation "\"TransitionRadius\" = BendRadius"
equation "\"JacobiRadiusSize\" = BendRadius"
equation "\"GapSize\" = Thickness"
equation "\"Thickness\" = 3.175"
properties part number "BOTTOM DS new"
